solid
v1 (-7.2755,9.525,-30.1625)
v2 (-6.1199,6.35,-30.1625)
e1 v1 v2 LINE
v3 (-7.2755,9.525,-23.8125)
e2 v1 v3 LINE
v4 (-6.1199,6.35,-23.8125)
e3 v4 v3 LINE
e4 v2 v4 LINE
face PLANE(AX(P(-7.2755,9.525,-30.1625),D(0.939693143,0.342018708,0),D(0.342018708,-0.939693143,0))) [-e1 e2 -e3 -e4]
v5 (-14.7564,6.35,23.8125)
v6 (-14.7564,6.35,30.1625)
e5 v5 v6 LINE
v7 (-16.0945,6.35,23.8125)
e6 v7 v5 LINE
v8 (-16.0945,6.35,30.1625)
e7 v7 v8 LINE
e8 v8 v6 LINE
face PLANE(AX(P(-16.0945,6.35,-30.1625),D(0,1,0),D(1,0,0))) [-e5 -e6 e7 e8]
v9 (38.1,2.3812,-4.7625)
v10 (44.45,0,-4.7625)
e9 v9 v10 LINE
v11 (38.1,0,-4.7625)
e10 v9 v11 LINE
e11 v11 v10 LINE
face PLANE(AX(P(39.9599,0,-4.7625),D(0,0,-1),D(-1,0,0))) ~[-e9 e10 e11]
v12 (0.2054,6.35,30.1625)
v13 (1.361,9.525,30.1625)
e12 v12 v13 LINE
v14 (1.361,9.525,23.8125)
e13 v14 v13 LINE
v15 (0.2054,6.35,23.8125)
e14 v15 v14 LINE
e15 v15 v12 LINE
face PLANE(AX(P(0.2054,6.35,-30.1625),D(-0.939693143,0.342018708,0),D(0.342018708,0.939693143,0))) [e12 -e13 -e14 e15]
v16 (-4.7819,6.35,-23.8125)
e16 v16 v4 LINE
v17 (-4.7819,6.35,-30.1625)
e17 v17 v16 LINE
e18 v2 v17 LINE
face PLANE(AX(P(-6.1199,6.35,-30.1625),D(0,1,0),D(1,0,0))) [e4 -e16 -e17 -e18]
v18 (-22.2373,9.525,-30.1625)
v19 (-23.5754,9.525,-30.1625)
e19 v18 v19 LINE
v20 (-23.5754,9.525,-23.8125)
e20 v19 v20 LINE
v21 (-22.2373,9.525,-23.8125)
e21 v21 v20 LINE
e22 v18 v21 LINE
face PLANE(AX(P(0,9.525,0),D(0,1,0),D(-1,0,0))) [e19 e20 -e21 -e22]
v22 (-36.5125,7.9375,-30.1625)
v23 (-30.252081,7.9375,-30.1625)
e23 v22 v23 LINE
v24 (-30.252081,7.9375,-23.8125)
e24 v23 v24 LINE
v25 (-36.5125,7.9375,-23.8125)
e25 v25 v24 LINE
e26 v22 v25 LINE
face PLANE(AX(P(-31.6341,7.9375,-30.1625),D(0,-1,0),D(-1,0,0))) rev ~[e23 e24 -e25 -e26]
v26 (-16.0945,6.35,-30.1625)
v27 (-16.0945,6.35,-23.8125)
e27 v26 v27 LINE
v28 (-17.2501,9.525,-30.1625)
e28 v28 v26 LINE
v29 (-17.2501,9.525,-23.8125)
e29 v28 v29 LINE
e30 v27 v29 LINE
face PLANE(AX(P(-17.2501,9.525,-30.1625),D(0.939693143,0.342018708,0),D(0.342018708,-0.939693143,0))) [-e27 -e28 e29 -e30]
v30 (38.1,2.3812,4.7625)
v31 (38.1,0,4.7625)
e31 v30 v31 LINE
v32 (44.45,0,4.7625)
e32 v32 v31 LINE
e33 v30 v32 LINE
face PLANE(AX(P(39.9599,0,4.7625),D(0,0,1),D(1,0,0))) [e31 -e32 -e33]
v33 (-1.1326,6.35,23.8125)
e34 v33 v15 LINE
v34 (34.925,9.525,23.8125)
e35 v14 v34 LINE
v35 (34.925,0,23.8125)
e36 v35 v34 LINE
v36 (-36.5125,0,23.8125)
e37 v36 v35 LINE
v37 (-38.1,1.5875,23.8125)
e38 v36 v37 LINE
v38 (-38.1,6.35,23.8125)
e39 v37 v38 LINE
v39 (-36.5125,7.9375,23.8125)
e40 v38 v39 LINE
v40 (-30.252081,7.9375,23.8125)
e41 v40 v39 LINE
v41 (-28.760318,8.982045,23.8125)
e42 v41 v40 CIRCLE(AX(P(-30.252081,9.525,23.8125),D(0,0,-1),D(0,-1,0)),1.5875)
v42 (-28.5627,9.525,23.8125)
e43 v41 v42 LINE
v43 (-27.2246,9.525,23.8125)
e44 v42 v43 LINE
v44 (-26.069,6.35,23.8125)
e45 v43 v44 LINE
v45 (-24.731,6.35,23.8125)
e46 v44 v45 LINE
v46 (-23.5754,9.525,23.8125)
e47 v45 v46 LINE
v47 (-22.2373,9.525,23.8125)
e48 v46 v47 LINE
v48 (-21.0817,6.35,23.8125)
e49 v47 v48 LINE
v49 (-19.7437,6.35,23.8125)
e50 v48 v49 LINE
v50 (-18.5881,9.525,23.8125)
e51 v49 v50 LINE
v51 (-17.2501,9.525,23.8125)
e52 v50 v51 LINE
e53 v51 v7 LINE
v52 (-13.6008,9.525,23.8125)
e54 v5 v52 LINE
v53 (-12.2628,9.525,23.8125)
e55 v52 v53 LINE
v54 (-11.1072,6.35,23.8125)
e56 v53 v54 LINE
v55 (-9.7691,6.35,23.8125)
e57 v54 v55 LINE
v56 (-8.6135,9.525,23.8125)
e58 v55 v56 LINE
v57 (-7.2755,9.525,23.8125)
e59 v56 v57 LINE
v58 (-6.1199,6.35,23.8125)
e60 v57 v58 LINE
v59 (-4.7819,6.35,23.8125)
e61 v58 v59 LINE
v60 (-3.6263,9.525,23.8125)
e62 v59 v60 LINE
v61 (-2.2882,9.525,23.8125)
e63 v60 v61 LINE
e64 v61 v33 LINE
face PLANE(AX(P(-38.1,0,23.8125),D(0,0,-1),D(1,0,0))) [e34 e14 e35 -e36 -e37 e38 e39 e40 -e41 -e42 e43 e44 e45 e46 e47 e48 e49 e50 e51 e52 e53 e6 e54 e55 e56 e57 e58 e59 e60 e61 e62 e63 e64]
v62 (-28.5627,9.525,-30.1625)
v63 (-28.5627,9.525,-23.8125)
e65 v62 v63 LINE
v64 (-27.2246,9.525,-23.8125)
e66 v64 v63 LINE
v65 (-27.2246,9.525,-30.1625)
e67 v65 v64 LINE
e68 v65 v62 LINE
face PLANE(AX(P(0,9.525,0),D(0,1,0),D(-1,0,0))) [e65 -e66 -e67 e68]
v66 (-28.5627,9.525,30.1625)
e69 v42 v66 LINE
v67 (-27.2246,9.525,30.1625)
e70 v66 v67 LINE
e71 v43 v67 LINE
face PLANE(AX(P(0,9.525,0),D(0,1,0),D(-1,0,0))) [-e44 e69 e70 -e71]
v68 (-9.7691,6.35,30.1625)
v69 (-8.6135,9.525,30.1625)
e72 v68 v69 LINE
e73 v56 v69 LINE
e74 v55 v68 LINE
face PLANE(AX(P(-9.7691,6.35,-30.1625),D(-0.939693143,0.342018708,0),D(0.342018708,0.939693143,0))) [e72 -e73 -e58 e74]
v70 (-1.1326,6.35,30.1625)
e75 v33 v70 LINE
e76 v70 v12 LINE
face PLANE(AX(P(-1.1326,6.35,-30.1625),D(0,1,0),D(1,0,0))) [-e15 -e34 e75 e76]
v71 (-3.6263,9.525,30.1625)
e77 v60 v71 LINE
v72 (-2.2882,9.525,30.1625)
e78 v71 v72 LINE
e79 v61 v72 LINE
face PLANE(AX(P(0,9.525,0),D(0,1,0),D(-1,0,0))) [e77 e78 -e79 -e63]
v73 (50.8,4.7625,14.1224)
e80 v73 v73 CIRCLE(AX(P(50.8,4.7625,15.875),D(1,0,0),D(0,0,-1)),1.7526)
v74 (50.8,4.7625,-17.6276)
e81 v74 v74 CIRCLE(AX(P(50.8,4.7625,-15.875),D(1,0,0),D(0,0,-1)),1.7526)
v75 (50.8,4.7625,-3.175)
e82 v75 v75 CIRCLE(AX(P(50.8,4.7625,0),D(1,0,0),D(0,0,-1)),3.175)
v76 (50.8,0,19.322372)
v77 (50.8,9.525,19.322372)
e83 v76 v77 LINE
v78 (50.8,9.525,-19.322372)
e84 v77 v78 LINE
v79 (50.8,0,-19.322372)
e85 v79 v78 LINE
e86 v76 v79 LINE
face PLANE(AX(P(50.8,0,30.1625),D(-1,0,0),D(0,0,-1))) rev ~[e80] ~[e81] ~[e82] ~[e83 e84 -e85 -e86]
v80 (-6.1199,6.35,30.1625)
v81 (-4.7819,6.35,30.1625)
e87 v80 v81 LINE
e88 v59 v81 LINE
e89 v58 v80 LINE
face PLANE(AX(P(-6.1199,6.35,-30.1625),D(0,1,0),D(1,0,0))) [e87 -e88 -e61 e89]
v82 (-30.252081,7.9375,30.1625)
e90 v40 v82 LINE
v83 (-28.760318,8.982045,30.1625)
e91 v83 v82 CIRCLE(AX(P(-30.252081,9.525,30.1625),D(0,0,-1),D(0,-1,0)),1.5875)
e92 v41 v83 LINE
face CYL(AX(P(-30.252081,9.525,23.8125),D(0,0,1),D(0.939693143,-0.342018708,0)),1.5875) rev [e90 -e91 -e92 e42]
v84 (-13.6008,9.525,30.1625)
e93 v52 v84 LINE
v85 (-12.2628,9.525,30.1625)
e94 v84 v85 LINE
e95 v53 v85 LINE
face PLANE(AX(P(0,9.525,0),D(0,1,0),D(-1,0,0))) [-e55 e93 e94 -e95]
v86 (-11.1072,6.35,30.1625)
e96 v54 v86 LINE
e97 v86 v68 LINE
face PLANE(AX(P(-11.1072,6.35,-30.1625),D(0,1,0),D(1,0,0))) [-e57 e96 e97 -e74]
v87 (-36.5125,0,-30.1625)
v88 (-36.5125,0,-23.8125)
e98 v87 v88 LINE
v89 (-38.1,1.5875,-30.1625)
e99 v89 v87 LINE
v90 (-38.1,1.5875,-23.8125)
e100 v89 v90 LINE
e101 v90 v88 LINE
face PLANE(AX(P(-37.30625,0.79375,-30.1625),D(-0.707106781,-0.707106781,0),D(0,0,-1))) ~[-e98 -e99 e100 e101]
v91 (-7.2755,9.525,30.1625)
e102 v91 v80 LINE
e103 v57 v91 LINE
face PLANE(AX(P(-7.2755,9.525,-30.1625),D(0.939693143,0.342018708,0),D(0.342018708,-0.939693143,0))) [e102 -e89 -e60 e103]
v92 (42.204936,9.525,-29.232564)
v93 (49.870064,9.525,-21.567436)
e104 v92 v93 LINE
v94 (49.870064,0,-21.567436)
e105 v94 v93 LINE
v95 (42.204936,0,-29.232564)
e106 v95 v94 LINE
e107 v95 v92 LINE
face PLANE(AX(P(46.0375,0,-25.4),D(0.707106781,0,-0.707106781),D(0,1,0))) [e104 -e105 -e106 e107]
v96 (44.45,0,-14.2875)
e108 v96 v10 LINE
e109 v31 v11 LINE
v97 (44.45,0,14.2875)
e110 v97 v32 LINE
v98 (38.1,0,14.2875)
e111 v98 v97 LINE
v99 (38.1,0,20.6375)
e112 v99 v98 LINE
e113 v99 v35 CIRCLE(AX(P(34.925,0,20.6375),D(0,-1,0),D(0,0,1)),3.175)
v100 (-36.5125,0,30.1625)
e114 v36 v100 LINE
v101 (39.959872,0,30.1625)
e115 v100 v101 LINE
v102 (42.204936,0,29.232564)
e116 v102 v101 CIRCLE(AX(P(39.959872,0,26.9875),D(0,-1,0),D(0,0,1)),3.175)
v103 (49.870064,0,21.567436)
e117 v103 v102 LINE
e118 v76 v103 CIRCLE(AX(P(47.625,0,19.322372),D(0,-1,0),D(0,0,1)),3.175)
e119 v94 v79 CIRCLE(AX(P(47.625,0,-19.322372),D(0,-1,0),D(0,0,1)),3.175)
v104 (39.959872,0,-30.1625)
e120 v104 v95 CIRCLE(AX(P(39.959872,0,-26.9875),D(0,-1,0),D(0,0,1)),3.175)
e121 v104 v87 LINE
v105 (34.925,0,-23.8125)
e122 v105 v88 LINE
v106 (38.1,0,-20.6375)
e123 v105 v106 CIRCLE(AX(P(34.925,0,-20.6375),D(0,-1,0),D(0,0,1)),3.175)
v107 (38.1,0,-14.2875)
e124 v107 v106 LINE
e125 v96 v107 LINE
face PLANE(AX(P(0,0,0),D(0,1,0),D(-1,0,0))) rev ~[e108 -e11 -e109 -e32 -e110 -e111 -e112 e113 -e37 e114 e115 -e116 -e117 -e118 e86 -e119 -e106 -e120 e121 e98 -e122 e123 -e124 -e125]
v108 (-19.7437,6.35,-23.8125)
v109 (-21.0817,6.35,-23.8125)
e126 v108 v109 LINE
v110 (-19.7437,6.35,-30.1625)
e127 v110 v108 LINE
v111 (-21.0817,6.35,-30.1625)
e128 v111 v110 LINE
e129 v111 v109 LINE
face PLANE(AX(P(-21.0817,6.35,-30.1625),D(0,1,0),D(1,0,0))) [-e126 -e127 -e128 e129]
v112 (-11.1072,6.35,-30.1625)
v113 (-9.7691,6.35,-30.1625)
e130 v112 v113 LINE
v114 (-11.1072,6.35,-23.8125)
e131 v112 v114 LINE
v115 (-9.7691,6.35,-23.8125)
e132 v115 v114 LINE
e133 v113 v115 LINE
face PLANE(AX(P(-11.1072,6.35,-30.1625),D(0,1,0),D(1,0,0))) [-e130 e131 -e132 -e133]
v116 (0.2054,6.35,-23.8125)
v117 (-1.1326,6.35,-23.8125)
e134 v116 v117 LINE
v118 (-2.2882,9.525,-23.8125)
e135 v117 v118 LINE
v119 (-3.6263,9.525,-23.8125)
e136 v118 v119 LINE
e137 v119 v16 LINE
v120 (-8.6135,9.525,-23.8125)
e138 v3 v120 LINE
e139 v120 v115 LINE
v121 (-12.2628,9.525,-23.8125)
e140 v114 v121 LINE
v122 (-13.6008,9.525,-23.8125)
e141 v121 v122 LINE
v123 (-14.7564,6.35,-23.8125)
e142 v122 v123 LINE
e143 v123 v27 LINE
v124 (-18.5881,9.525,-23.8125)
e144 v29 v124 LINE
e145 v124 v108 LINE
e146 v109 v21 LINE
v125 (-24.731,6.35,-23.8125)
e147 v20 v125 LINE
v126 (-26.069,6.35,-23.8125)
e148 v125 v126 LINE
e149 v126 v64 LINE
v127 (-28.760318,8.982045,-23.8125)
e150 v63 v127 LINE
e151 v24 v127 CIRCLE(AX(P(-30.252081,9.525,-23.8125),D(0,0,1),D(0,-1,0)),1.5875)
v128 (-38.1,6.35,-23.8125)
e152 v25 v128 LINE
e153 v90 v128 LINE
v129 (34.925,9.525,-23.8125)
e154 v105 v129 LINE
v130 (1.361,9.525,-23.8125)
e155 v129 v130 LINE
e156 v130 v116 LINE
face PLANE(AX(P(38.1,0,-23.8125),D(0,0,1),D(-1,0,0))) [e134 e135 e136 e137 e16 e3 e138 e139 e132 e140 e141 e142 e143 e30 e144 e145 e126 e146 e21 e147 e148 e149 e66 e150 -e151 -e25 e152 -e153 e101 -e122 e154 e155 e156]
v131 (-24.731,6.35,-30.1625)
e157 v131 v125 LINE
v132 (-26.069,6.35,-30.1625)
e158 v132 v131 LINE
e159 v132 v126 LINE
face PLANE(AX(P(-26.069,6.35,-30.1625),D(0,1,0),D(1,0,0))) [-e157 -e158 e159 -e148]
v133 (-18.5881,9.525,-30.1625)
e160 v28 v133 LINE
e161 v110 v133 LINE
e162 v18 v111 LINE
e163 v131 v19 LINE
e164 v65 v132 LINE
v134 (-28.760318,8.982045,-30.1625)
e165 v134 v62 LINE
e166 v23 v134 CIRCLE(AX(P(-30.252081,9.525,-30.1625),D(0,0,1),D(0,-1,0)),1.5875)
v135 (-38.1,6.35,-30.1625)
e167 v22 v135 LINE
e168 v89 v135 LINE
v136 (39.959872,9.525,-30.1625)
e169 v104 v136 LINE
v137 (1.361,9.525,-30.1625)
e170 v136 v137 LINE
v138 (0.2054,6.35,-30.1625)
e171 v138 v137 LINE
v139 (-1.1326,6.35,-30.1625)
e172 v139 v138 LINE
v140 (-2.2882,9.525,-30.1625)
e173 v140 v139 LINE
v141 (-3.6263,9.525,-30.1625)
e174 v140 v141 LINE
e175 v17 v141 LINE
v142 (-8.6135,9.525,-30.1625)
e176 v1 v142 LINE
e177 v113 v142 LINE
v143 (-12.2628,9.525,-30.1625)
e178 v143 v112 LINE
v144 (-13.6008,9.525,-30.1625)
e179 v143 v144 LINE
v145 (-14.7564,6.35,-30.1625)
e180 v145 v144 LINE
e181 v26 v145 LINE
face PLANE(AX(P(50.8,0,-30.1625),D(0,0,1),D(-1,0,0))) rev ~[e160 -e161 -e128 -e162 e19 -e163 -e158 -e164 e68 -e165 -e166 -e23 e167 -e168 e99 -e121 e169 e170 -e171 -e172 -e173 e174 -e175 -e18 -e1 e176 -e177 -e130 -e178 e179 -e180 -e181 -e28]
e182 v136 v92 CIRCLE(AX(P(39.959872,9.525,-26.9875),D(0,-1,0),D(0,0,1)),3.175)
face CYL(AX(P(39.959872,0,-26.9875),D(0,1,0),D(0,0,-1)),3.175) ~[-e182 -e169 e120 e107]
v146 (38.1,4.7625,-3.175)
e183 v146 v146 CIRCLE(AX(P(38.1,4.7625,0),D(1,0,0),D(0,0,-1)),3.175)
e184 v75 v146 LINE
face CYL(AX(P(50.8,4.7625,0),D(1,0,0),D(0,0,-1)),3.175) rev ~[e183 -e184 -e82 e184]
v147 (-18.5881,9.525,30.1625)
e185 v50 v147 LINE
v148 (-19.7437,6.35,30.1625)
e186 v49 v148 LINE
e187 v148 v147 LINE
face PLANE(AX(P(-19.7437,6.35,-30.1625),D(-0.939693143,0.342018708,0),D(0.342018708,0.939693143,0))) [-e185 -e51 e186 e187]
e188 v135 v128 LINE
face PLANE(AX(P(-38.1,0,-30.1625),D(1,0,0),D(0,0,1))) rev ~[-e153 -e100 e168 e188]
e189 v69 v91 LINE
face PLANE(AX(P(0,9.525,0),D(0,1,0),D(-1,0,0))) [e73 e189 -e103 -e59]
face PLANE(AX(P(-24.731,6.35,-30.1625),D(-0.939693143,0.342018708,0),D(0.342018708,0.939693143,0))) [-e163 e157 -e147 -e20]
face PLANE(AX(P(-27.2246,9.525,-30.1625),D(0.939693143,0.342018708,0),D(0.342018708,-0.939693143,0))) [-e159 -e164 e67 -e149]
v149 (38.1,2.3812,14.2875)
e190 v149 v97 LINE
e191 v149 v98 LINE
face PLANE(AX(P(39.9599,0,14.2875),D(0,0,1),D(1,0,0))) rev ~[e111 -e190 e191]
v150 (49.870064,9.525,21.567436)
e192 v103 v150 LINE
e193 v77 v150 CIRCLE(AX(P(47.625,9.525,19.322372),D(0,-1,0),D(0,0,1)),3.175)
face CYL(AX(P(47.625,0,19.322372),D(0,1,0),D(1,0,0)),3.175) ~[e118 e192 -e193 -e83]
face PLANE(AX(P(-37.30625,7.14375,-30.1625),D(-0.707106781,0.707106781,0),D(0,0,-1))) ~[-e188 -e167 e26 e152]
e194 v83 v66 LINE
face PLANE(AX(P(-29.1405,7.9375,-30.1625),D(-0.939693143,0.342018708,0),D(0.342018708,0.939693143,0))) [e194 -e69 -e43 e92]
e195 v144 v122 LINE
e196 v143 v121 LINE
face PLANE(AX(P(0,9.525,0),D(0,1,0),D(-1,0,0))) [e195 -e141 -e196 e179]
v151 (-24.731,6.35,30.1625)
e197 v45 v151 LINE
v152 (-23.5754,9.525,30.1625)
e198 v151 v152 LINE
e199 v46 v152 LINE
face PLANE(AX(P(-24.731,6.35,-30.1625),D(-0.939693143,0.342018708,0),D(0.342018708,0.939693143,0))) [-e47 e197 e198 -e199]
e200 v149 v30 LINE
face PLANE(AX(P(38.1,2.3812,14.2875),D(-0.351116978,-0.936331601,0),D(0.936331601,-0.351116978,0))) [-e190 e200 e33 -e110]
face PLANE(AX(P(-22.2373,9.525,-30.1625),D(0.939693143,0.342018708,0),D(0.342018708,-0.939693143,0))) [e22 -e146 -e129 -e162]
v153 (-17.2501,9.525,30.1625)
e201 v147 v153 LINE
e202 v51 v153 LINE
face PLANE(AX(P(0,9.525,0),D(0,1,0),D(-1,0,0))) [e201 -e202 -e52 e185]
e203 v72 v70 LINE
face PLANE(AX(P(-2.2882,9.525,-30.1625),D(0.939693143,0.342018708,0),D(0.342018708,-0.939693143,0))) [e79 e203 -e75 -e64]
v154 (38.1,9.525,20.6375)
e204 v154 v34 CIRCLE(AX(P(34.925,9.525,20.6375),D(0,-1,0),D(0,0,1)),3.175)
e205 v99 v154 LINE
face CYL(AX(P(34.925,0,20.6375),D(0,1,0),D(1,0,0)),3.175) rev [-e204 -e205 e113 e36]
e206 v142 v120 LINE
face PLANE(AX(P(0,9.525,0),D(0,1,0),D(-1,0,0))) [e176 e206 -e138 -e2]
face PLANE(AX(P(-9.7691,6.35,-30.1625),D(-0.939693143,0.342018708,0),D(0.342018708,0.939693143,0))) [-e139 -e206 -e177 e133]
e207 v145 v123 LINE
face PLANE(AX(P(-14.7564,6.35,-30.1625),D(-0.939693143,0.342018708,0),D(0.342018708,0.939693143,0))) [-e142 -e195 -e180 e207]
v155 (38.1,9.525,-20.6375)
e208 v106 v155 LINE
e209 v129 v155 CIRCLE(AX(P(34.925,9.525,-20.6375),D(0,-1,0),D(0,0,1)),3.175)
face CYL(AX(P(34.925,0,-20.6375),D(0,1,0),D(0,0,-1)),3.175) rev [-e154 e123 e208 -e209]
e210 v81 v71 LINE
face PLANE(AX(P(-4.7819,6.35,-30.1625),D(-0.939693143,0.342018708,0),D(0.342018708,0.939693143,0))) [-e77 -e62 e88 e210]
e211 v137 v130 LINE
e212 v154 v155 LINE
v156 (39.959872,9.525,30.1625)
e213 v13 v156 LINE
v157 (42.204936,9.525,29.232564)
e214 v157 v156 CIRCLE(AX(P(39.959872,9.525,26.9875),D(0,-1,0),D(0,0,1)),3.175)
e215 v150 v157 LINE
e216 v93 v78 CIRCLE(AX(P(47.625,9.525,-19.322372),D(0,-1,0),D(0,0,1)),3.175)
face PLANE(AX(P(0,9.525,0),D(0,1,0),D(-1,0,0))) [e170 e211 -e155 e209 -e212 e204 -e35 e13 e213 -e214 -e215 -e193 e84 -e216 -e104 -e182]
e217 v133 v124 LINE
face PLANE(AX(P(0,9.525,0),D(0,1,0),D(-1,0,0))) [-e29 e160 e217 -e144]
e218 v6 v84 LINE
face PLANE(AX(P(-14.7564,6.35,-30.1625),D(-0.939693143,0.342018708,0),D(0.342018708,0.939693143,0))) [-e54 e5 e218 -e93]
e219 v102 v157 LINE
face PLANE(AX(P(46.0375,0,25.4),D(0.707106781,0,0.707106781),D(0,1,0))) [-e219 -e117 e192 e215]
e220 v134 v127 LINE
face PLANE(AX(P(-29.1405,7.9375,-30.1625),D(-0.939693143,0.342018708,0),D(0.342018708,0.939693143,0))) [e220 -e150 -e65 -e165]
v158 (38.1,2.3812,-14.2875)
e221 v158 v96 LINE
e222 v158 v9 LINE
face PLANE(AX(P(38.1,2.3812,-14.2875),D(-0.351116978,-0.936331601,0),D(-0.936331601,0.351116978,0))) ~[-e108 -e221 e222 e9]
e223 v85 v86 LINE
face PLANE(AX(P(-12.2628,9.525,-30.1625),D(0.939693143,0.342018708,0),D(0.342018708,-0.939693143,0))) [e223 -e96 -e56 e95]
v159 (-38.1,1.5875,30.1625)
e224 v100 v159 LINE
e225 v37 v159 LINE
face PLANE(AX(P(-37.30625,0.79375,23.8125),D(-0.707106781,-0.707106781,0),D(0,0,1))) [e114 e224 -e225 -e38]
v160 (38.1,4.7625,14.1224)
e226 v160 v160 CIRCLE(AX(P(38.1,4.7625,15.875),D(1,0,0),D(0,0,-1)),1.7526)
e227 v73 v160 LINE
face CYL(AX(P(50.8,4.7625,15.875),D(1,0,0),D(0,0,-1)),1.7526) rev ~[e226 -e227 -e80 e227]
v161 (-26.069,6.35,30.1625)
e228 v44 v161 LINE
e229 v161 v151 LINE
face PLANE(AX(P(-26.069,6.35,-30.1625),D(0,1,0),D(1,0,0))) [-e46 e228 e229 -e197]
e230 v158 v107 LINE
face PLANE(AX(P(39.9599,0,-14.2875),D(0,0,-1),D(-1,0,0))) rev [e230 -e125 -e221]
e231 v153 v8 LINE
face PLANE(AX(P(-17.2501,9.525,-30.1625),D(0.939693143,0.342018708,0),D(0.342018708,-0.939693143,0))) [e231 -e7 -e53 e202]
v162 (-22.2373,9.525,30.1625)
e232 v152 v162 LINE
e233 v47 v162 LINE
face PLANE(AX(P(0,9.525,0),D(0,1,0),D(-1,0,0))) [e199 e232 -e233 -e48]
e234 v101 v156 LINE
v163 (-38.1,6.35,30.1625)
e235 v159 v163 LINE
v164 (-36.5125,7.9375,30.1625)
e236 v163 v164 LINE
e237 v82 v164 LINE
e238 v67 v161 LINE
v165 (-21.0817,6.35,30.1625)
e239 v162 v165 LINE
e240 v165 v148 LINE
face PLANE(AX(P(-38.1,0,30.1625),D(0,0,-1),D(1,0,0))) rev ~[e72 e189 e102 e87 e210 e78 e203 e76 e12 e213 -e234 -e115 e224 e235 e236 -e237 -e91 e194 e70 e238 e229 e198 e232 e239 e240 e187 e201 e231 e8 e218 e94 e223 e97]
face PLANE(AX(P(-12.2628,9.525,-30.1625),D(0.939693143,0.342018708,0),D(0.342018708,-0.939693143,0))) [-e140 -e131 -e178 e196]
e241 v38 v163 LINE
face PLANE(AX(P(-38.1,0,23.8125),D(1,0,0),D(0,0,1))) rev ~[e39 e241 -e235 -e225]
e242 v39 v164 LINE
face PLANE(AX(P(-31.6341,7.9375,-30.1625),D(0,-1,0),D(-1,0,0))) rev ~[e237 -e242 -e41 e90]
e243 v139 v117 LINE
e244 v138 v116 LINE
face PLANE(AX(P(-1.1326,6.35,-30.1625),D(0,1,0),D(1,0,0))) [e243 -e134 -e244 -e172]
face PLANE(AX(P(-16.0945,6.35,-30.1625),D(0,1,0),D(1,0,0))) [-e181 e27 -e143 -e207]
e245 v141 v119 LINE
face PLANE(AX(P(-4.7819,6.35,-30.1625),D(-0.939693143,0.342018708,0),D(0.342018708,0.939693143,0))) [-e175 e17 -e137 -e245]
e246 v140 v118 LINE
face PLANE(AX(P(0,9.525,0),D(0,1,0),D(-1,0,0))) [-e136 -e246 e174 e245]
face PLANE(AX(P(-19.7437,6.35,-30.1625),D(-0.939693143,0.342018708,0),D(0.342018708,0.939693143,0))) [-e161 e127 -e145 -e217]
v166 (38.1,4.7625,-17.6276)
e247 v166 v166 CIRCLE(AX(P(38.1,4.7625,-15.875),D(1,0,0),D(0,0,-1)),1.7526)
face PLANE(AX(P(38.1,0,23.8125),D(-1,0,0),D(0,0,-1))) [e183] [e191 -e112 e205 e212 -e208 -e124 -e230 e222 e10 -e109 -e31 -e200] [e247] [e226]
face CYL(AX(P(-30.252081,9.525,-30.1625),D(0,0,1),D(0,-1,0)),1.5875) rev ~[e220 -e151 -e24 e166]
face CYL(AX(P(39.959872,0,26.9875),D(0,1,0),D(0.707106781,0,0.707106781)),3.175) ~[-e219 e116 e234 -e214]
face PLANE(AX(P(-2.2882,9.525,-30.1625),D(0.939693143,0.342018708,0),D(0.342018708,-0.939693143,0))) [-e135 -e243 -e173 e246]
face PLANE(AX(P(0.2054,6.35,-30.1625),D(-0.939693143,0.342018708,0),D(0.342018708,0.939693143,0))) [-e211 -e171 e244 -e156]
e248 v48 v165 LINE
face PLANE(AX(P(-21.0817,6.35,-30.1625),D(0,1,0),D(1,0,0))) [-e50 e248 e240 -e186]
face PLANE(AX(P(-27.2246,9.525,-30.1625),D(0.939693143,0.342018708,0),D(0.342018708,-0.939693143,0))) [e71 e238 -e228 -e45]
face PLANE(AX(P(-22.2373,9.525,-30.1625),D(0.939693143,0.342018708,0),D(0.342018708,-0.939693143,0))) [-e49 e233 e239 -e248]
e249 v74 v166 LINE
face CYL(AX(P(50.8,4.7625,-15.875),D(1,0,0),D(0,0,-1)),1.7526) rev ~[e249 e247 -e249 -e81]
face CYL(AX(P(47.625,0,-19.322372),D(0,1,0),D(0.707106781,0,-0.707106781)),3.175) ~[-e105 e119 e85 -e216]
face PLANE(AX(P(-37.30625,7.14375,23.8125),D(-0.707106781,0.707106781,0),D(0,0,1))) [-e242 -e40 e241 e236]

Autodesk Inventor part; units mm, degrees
ref_plane "YZ Plane" through (0, 0, 0) normal (1, 0, 0) x (0, 1, 0)
ref_plane "XZ Plane" through (0, 0, 0) normal (0, 1, 0) x (-1, 0, 0)
sketch "Sketch1" plane through (0, 0, 0) normal (0, 1, 0) x (-1, 0, 0)
  line L0 (38.1, 23.8125) -> (-38.1, 23.8125)
  line L1 (-38.1, 23.8125) -> (-38.1, -23.8125)
  line L2 (-38.1, -23.8125) -> (38.1, -23.8125)
  line L3 (38.1, -23.8125) -> (38.1, 23.8125)
  line L4 (38.1, 23.8125) -> (-38.1, -23.8125) construction
  line L5 (-38.1, 23.8125) -> (38.1, -23.8125) construction
  line L6 (0, 0) -> (-38.1, 0) construction
  line L7 (38.1, 30.1625) -> (-50.8, 30.1625)
  line L8 (-50.8, 30.1625) -> (-50.8, -30.1625)
  line L9 (-50.8, -30.1625) -> (38.1, -30.1625)
  line L10 (38.1, -30.1625) -> (38.1, 30.1625)
  line L11 (38.1, 30.1625) -> (-50.8, -30.1625) construction
  line L12 (-50.8, 30.1625) -> (38.1, -30.1625) construction
  point P0 (-6.35, 0)
  point P1 (38.1, 23.8125)
  dimension "d0" = 76.2
  dimension "d1" = 47.625
  dimension "d2" = 6.35
  dimension "d3" = 12.7
extrude "Extrusion1" add sketch "Sketch1" along normal blind 9.525 contours L0 L1 L2 L10 L9 L8 L7
chamfer "Chamfer1" distance 9.525 angle 45 2 edges at (50.8, 4.7625, 30.1625) (50.8, 4.7625, -30.1625)
fillet "Fillet1" radius 3.175 4 edges at (41.275, 4.7625, -30.1625) (50.8, 4.7625, -20.6375) (50.8, 4.7625, 20.6375) (41.275, 4.7625, 30.1625)
fillet "Fillet4" radius 3.175 2 edges at (38.1, 4.7625, -23.8125) (38.1, 4.7625, 23.8125)
sketch "Sketch2" plane through (50.8, 0, 19.3224) normal (1, 0, 0) x (0, 0, -1)
  line L0 (43.1349, 9.525) -> (-4.4901, 9.525) projected
  line L1 (43.1349, 0) -> (-4.4901, 0) projected
  circle A0 centre (19.3224, 4.7625) radius 3.175
  line L2 (0, 9.525) -> (38.6447, 9.525) projected
  line L3 (19.3224, 9.525) -> (19.3224, 0) construction
  line L4 (19.3224, 4.7625) -> (3.4474, 4.7625) construction
  circle A1 centre (3.4474, 4.7625) radius 1.7526
  circle A2 centre (35.1974, 4.7625) radius 1.7526
  point P0 (38.6447, 9.525)
  point P1 (6.35, 9.525)
  point P2 (38.6447, 0)
  point P3 (6.35, 0)
  dimension "d10" = 6.35
  dimension "d99" = 15.875
  dimension "d100" = 3.5052
  dimension "d103" = 360
extrude "Extrusion6" cut sketch "Sketch2" against normal through all
sketch "Sketch5" plane through (-38.1, 0, -30.1625) normal (0, 0, -1) x (-1, 0, 0)
  line L0 (0, 0) -> (0, 9.525) projected
  line L1 (0, 9.525) -> (-78.0599, 9.525) projected
  line L2 (-10.8754, 9.525) -> (-12.031, 6.35)
  line L3 (-12.031, 6.35) -> (-13.369, 6.35)
  line L4 (-13.369, 6.35) -> (-14.5246, 9.525)
  line L5 (-25.4, 9.525) -> (-25.4, 6.35) construction
  line L6 (0, 9.525) -> (0, 6.35) construction
  line L7 (-12.7, 9.525) -> (-12.7, 6.35) construction
  line L8 (-25.4, 7.9375) -> (0, 7.9375) construction
  line L9 (-15.8627, 9.525) -> (-17.0183, 6.35)
  line L10 (-17.0183, 6.35) -> (-18.3563, 6.35)
  line L11 (-18.3563, 6.35) -> (-19.5119, 9.525)
  line L12 (-17.6873, 9.525) -> (-17.6873, 6.35) construction
  line L13 (-20.8499, 9.525) -> (-22.0055, 6.35)
  line L14 (-22.0055, 6.35) -> (-23.3436, 6.35)
  line L15 (-23.3436, 6.35) -> (-24.4992, 9.525)
  line L16 (-22.6746, 9.525) -> (-22.6746, 6.35) construction
  line L17 (-25.8372, 9.525) -> (-26.9928, 6.35)
  line L18 (-26.9928, 6.35) -> (-28.3309, 6.35)
  line L19 (-28.3309, 6.35) -> (-29.4865, 9.525)
  line L20 (-27.6618, 9.525) -> (-27.6618, 6.35) construction
  line L21 (-30.8245, 9.525) -> (-31.9801, 6.35)
  line L22 (-31.9801, 6.35) -> (-33.3181, 6.35)
  line L23 (-33.3181, 6.35) -> (-34.4737, 9.525)
  line L24 (-32.6491, 9.525) -> (-32.6491, 6.35) construction
  line L25 (-35.8118, 9.525) -> (-36.9674, 6.35)
  line L26 (-36.9674, 6.35) -> (-38.3054, 6.35)
  line L27 (-38.3054, 6.35) -> (-39.461, 9.525)
  line L28 (-37.6364, 9.525) -> (-37.6364, 6.35) construction
  line L29 (-12.031, 6.35) -> (0, 6.35)
  line L30 (-5.8881, 9.525) -> (-7.0437, 6.35)
  line L31 (-8.3817, 6.35) -> (-9.5373, 9.525)
  line L32 (-8.9595, 7.9375) -> (0, 7.9375)
  point P0 (-38.1, 0)
  point P1 (-13.9468, 7.9375)
  point P2 (-11.4532, 7.9375)
  point P3 (-11.4532, 7.9375)
  point P4 (-16.4405, 7.9375)
  point P5 (-16.4405, 7.9375)
  point P6 (-4.9873, 6.35)
  point P7 (-30.3873, 6.35)
  point P8 (-18.9341, 7.9375)
  point P9 (-21.4277, 7.9375)
  point P10 (-21.4277, 7.9375)
  point P11 (-9.9746, 6.35)
  point P12 (-35.3746, 6.35)
  point P13 (-23.9214, 7.9375)
  point P14 (-26.415, 7.9375)
  point P15 (-26.415, 7.9375)
  point P16 (-14.9618, 6.35)
  point P17 (-40.3618, 6.35)
  point P18 (-28.9087, 7.9375)
  point P19 (-31.4023, 7.9375)
  point P20 (-31.4023, 7.9375)
  point P21 (-19.9491, 6.35)
  point P22 (-45.3491, 6.35)
  point P23 (-33.8959, 7.9375)
  point P24 (-36.3896, 7.9375)
  point P25 (-36.3896, 7.9375)
  point P26 (-24.9364, 6.35)
  point P27 (-50.3364, 6.35)
  point P28 (-38.8832, 7.9375)
  point P29 (-15.8627, 9.525)
  point P30 (-35.8118, 9.525)
  point P31 (-30.8245, 9.525)
  point P32 (-25.8372, 9.525)
  point P33 (-29.4865, 9.525)
  point P34 (-20.8499, 9.525)
  point P35 (-24.4992, 9.525)
  point P36 (-6.4659, 7.9375)
  point P37 (-6.4659, 7.9375)
  point P38 (0, 7.9375)
  point P39 (-9.5373, 9.525)
  dimension "d68" = 3.175
  dimension "d70" = 70
  dimension "d71" = 2.4936
  dimension "d74" = 4.9873
  dimension "d79" = 12.7
  dimension "d82" = 4.9873
extrude "Extrusion8" cut sketch "Sketch5" against normal through all contours L25 L26 L27 L1 | L21 L22 L23 L1 | L17 L18 L19 L1 | L13 L14 L15 L1 | L9 L10 L11 L1 | L32 L30 L1 L0 | L32 L31 L1 L30 | L3 L4 L1 L2
fillet "Fillet5" radius 1.5875 2 edges at (-29.1405, 7.9375, -26.9875) (-29.1405, 7.9375, 26.9875)
chamfer "Chamfer3" distance 1.5875 angle 45 2 edges at (-38.1, 7.9375, -26.9875) (-38.1, 7.9375, 26.9875)
chamfer "Chamfer4" distance 1.5875 angle 45 2 edges at (-38.1, 0, -26.9875) (-38.1, 0, 26.9875)
ref_plane "Work Plane1" through (39.9599, 0, 14.2875) normal (0, 0, 1) x (1, 0, 0)
sketch "Sketch7" plane through (39.9599, 0, 14.2875) normal (0, 0, 1) x (1, 0, 0)
  line L0 (0, 0) -> (-76.4724, 0) projected
  line L1 (-1.8599, 9.525) -> (-1.8599, 0) projected
  line L2 (-1.8599, 0) -> (4.4901, 0)
  line L3 (4.4901, 0) -> (4.4901, 2.3813) construction
  line L4 (4.4901, 2.3813) -> (-1.8599, 2.3812) construction
  line L5 (-1.8599, 2.3812) -> (-1.8599, 0)
  line L6 (-1.8599, 2.3812) -> (4.4901, 0)
  point P0 (-39.9599, 0)
  point P1 (-1.8599, 2.3812)
  dimension "d114" = 6.35
  dimension "d115" = 2.3813
extrude "Extrusion10" cut sketch "Sketch7" against normal blind 9.525
mirror "Mirror2" about plane through (0, 0, 0) normal (0, 0, 1) of "Extrusion10"
equation "\"d71\" = 0.5 * d69"
equation "\"d74\" = 1.5708 * d68"
equation "\"d82\" = d74"
equation "\"d69\" = 1.5708 * d68"
properties part number "Rack" material "Aluminum 6061"
